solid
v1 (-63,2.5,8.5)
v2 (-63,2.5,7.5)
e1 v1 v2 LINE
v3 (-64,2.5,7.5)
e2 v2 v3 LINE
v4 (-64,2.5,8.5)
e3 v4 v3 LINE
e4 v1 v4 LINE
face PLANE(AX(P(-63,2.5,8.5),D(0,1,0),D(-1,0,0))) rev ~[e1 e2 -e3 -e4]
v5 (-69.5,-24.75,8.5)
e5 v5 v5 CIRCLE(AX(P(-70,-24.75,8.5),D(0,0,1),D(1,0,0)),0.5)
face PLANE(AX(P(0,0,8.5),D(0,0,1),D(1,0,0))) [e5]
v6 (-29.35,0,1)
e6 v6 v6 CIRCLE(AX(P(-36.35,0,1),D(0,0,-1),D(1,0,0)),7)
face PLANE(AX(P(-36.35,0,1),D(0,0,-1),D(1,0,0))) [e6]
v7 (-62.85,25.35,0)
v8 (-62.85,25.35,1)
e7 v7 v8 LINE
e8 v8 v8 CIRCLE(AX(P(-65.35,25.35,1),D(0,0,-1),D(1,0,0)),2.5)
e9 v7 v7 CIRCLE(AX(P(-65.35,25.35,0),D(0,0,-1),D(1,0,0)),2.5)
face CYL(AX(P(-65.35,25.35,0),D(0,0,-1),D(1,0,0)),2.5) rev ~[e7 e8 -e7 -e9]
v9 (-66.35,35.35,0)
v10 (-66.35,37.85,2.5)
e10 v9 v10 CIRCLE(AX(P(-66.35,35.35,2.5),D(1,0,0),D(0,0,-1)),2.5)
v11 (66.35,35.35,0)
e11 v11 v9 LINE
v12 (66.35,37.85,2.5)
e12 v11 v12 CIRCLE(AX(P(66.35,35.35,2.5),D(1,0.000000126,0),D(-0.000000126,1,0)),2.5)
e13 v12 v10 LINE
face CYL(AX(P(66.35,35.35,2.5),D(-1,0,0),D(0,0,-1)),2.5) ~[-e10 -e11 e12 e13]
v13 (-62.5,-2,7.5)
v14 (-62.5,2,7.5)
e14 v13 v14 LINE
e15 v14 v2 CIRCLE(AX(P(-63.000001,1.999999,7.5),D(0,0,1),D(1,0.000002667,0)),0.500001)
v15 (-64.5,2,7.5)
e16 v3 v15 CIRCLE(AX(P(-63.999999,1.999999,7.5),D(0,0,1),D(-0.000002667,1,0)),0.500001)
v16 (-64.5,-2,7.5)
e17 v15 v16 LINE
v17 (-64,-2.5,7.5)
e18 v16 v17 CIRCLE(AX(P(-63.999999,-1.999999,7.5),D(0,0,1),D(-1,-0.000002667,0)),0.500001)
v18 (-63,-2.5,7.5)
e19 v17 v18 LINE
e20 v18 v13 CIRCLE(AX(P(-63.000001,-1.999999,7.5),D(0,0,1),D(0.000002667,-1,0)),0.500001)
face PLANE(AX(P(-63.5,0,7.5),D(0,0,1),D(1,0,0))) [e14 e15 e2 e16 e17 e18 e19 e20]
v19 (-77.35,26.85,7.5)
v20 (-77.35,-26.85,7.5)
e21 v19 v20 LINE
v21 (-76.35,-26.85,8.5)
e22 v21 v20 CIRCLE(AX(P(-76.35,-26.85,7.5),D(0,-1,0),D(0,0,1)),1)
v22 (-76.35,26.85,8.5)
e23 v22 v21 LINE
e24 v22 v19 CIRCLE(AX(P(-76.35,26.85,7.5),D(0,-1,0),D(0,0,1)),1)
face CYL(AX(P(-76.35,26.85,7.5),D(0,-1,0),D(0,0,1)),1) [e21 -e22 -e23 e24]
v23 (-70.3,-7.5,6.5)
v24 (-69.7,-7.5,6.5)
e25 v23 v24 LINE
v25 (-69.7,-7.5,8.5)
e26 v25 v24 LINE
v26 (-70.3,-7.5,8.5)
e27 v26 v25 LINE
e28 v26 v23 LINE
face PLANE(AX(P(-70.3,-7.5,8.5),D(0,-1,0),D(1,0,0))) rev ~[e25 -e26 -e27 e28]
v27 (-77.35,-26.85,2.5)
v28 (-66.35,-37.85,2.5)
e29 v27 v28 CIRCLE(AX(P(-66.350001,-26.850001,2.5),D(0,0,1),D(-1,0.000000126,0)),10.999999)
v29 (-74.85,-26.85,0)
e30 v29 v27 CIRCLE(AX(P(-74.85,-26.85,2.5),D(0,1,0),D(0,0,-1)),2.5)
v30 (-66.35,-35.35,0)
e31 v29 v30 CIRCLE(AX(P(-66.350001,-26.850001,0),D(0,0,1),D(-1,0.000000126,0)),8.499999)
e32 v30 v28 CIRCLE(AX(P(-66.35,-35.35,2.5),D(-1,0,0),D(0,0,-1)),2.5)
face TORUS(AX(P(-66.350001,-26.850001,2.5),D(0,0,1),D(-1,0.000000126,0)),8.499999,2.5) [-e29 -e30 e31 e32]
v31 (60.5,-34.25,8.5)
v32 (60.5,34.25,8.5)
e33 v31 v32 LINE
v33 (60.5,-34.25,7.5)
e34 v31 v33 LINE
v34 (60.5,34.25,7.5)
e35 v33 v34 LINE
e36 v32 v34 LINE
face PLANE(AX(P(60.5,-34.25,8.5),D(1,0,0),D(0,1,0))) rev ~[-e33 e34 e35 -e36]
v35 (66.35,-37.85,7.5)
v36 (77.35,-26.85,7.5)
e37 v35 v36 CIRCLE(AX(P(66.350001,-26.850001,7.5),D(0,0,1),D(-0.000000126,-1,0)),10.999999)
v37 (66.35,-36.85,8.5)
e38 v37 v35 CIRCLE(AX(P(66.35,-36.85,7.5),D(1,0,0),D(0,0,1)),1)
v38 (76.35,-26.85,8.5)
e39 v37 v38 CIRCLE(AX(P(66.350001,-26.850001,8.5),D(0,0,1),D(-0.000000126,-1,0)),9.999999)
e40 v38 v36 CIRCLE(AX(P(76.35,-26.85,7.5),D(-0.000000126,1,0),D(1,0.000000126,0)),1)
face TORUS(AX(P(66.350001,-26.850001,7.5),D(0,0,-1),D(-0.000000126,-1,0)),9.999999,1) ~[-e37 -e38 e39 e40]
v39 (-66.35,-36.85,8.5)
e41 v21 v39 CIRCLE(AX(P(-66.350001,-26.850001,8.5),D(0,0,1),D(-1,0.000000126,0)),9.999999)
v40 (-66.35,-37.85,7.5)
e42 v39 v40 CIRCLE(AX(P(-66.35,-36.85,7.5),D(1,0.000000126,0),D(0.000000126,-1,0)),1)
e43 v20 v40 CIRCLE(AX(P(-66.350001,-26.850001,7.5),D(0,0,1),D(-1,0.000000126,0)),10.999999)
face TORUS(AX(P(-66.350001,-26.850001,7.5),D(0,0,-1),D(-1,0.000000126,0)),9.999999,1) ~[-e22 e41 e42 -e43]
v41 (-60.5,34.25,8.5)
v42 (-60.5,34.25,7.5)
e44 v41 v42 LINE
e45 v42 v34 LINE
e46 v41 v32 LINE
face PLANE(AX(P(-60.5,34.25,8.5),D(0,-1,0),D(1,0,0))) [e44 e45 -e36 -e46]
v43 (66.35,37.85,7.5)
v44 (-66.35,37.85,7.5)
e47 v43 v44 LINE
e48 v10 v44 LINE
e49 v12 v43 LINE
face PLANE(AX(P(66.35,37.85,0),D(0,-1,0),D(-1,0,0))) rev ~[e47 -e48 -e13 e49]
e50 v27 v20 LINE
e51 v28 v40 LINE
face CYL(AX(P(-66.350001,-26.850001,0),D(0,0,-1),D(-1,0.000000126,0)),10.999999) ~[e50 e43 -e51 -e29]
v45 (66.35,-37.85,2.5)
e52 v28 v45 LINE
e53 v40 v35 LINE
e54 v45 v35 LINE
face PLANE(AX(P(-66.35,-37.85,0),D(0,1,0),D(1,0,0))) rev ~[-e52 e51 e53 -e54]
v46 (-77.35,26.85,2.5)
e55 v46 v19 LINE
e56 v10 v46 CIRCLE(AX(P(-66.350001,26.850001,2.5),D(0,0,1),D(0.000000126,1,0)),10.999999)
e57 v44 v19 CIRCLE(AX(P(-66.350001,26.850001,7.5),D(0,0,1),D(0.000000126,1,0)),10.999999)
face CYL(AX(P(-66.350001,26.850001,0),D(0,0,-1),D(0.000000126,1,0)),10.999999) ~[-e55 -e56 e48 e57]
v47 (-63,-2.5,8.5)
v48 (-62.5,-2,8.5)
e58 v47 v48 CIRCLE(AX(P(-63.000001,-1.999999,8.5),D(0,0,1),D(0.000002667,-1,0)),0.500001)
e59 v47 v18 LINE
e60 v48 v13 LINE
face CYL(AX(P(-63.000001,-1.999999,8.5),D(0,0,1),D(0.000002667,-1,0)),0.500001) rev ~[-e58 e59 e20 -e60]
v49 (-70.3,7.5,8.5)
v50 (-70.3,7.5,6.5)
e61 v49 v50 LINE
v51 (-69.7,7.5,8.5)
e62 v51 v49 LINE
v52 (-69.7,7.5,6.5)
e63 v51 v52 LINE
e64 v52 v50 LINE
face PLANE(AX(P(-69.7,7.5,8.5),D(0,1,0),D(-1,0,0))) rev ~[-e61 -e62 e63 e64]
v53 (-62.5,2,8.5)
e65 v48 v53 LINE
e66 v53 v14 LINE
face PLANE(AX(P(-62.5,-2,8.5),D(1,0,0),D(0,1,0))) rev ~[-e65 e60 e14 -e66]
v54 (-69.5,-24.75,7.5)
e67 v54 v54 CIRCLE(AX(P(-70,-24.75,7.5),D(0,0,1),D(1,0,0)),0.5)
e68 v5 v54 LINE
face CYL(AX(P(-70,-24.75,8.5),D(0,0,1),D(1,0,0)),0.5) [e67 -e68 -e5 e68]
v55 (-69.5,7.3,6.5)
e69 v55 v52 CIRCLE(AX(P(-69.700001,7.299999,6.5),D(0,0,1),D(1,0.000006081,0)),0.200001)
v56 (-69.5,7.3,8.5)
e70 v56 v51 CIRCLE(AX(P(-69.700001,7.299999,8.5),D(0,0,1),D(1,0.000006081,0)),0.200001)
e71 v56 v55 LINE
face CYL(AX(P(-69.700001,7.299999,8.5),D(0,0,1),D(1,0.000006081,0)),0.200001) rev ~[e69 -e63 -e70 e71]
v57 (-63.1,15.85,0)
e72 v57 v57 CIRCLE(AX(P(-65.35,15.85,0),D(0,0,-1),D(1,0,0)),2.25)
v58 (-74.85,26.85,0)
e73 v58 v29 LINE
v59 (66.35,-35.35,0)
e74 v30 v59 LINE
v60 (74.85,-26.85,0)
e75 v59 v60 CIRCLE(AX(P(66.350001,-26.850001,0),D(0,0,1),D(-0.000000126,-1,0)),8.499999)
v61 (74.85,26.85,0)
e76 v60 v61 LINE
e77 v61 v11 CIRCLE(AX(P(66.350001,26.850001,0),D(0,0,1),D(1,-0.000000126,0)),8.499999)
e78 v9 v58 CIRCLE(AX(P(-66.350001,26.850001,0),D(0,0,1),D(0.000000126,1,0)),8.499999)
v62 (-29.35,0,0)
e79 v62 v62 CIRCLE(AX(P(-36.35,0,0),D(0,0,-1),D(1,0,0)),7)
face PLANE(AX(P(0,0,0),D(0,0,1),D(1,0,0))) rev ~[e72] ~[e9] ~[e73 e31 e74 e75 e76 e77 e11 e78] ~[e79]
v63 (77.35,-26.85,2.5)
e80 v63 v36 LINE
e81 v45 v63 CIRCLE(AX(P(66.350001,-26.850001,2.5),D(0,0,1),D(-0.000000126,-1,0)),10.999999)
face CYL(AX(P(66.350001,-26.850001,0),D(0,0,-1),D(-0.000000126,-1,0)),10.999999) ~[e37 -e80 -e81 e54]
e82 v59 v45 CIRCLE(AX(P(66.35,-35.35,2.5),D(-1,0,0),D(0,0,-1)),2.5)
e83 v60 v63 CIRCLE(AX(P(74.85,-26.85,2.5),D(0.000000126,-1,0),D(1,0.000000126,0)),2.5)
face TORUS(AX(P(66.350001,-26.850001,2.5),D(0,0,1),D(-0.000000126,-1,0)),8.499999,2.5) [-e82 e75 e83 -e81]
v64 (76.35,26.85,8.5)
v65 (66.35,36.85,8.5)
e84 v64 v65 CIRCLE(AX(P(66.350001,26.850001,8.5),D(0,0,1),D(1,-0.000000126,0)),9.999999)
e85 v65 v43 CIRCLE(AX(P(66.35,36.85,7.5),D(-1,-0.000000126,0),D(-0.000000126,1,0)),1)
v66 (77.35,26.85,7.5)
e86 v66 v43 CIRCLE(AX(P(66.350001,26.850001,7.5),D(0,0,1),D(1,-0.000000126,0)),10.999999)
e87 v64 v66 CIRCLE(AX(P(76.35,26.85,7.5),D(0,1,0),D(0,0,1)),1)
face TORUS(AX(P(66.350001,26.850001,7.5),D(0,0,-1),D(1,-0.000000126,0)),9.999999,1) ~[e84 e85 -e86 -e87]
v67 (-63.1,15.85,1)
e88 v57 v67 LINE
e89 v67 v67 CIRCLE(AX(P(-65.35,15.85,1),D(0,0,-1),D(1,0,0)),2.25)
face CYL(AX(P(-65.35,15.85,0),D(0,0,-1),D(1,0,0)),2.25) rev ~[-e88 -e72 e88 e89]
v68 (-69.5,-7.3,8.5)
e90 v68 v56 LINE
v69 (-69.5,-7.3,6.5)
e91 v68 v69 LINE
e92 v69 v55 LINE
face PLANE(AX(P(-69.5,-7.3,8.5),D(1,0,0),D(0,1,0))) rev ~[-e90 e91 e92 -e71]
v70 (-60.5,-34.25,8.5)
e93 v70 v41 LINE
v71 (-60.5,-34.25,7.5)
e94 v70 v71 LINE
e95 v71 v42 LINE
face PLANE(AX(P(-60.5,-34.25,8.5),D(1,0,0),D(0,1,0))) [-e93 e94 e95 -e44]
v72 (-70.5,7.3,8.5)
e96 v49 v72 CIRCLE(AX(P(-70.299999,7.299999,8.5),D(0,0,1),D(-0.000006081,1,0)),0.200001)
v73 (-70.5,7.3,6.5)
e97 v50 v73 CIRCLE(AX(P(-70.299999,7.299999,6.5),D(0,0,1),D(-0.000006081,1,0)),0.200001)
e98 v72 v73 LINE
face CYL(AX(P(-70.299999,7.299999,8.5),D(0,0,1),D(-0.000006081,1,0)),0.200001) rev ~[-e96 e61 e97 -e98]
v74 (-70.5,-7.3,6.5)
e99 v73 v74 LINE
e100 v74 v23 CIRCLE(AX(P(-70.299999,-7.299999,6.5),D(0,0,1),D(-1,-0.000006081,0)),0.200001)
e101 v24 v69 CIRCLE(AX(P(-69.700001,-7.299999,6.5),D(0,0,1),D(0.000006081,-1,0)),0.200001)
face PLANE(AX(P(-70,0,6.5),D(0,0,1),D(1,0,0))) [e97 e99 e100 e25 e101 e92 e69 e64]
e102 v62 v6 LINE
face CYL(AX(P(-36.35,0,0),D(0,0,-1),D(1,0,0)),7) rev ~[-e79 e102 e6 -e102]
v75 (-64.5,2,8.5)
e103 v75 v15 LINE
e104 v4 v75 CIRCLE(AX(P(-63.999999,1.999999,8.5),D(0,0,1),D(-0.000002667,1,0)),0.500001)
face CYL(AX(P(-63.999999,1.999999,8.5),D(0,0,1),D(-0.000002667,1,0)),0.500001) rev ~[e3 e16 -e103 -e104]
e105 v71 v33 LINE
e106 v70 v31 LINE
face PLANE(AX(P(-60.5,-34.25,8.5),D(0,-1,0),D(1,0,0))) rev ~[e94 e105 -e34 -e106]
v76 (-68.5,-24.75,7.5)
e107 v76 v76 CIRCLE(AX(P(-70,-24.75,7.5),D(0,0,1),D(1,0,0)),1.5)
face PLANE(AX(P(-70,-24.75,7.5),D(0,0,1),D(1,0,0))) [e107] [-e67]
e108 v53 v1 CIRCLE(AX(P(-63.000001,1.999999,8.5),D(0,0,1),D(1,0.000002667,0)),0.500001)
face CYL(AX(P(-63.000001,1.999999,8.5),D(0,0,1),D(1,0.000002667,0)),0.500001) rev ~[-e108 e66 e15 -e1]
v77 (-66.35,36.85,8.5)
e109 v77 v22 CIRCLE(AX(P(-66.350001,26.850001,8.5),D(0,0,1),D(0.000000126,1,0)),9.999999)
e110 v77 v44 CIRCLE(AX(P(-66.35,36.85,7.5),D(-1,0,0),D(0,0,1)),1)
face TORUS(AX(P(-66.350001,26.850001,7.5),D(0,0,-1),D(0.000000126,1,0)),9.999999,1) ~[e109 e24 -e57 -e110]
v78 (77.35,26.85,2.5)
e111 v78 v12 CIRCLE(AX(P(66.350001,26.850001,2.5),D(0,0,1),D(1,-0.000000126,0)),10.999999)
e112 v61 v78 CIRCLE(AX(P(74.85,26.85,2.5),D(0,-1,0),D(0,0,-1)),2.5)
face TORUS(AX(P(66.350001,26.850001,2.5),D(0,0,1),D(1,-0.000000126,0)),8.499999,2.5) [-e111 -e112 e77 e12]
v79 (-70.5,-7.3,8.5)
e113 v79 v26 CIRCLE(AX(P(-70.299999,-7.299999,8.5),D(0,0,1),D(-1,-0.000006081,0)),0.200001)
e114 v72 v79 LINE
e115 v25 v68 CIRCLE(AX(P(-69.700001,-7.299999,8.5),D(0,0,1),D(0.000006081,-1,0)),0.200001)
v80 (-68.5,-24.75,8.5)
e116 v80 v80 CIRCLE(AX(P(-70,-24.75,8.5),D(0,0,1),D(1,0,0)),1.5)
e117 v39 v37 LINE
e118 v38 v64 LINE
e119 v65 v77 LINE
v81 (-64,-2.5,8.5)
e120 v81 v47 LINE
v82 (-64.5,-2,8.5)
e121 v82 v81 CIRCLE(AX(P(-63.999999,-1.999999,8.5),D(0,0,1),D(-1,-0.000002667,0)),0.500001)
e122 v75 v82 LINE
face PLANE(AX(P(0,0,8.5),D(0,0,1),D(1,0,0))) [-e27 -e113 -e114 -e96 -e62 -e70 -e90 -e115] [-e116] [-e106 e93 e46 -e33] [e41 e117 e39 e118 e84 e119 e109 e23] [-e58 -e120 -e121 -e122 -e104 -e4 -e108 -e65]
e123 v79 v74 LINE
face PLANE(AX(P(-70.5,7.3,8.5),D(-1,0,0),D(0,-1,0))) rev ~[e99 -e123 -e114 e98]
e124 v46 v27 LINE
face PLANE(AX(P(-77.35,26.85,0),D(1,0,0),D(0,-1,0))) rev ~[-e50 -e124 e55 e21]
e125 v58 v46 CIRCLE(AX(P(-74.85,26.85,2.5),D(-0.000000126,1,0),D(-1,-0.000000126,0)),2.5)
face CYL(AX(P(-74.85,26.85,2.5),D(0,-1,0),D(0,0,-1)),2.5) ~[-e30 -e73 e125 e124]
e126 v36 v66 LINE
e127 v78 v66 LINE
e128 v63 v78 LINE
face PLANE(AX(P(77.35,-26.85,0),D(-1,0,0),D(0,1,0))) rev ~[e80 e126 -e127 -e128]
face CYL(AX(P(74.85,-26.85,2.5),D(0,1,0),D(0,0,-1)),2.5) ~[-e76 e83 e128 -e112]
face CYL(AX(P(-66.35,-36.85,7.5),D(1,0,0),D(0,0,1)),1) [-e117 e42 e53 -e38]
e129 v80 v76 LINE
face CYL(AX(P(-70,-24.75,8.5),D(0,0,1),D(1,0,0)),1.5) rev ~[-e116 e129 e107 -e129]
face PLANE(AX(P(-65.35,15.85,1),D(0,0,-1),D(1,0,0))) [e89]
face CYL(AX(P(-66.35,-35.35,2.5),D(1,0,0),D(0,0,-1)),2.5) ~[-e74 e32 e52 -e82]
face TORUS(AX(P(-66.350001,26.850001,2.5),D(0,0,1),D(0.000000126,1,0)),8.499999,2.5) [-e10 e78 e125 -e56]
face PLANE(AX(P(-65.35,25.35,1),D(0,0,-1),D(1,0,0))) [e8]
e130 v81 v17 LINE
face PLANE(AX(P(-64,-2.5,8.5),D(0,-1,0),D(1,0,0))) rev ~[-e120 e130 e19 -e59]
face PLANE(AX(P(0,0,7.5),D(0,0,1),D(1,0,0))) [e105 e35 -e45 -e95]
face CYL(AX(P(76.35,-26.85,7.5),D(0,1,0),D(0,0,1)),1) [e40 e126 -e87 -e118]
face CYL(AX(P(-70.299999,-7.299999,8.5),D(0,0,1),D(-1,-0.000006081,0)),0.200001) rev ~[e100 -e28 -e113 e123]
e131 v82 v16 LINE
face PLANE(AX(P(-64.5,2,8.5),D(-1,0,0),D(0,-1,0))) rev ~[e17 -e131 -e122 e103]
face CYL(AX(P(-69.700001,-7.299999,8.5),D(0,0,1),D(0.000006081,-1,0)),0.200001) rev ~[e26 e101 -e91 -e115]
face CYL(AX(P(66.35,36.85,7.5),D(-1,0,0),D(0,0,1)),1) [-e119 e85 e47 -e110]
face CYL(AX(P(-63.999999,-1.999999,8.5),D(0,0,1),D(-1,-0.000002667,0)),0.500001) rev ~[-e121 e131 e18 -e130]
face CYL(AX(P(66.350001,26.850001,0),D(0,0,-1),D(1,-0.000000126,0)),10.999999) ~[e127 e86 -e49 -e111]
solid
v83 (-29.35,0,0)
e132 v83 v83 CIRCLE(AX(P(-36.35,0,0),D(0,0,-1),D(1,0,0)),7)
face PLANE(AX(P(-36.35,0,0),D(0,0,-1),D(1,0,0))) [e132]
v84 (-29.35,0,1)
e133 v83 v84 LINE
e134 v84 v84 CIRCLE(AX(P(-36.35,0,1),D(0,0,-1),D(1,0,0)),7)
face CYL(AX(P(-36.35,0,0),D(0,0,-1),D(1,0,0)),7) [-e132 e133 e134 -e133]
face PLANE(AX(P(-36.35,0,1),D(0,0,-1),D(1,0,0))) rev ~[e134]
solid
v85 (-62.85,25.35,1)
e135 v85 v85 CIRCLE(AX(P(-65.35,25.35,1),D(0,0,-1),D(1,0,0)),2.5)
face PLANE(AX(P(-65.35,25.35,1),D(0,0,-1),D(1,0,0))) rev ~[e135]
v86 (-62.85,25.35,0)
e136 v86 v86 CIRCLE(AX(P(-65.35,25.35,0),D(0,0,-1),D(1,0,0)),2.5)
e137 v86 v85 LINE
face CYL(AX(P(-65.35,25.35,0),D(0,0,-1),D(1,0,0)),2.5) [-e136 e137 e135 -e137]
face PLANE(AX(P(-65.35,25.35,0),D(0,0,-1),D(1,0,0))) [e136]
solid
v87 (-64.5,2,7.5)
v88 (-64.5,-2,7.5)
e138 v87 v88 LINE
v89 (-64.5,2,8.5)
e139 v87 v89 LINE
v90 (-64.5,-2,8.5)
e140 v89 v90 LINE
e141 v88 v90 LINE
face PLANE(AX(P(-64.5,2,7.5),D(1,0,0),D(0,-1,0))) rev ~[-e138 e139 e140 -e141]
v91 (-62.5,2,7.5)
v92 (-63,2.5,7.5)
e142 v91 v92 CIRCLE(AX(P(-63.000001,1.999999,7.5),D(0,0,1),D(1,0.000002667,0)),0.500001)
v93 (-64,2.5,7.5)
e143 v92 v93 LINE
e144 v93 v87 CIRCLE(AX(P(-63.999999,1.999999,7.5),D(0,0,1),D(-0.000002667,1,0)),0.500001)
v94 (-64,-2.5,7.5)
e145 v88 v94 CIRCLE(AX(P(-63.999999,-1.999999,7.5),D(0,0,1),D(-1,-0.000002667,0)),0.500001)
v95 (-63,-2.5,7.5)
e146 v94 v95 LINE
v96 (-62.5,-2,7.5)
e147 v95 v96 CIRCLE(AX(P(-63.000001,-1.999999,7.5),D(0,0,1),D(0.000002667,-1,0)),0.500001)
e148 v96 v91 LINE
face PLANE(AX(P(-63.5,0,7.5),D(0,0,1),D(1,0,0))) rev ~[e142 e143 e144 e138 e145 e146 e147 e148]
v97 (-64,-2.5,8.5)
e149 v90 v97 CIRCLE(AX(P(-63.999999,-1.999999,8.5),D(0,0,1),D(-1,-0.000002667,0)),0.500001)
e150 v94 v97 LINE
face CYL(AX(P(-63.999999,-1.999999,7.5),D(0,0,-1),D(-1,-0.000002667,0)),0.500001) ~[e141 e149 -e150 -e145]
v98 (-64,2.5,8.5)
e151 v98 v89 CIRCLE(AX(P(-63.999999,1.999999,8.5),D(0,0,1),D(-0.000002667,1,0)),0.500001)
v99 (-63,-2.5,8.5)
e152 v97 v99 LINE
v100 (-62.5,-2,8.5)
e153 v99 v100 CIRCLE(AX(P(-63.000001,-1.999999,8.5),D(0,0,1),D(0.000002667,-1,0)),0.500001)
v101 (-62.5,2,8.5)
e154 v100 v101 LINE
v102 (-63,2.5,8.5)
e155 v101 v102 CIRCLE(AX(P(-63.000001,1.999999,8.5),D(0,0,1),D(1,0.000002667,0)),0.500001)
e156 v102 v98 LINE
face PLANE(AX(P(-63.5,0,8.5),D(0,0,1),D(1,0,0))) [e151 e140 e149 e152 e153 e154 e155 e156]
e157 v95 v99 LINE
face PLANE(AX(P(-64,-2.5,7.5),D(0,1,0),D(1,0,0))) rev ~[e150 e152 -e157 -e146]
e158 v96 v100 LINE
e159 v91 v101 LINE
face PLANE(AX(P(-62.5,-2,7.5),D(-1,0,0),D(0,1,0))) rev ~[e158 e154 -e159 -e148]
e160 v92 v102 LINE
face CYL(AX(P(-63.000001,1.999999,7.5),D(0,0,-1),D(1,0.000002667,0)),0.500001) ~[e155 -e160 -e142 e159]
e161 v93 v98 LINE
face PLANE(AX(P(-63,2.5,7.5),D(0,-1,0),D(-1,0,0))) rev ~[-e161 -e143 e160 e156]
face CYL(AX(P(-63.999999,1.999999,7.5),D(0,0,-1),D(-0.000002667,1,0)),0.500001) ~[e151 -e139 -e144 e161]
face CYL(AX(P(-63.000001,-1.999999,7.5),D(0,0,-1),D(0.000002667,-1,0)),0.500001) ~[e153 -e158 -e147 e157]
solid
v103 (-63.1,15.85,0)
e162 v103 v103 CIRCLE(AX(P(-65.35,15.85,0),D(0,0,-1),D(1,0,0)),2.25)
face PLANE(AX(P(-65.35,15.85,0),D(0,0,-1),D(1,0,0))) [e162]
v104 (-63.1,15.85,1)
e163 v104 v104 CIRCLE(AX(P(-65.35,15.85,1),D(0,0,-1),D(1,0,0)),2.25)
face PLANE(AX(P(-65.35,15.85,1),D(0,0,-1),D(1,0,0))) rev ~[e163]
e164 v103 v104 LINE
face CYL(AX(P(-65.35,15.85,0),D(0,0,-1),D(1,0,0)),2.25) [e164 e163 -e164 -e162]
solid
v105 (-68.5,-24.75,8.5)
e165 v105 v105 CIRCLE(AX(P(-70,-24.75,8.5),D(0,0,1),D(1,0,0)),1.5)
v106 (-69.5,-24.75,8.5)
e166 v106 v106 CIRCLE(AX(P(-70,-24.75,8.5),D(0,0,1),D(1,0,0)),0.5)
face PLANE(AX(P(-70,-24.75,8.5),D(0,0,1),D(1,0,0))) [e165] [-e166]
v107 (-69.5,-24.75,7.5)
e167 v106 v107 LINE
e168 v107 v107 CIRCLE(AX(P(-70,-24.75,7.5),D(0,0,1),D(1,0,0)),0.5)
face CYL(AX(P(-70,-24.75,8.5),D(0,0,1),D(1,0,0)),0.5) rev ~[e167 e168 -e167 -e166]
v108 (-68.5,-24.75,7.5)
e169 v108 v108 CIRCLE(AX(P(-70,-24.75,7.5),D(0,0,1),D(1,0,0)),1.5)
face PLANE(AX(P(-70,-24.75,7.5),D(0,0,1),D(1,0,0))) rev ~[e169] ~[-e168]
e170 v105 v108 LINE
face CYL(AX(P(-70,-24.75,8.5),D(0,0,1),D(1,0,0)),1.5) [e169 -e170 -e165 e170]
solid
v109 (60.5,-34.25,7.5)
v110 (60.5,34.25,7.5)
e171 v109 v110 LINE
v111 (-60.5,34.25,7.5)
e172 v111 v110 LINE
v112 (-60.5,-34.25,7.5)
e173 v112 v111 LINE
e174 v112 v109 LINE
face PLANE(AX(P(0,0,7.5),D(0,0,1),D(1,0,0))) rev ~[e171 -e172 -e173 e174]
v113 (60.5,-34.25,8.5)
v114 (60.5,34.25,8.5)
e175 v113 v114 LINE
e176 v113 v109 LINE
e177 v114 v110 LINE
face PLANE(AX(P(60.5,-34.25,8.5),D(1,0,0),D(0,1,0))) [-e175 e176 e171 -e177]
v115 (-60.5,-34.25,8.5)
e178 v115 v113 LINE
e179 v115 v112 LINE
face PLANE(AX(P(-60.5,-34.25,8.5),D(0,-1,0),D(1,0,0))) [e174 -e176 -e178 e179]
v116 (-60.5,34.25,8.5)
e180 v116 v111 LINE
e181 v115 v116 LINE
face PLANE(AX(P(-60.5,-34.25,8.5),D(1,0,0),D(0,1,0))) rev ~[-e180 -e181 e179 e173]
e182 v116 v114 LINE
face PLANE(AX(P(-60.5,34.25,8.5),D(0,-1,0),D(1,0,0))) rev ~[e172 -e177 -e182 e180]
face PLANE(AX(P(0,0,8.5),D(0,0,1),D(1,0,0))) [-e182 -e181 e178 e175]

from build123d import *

# Parameters (mm, degrees)
F1_DEPTH  = 8.5
F2_W      = 121
F2_H      = 68.5
F3_DEPTH  = 1
F4_DEPTH  = 1
F2_R      = 1.5
F2_R_2    = 0.5
F5_DEPTH  = 1
F6_DEPTH  = 1
F7_R      = 7
F8_DEPTH  = 1
F9_DEPTH  = 1
F10_R     = 1
F11_R     = 2.5
F12_DEPTH = 2
F13_DEPTH = 1
F14_DEPTH = 1
F7_R_2    = 2.5
F15_DEPTH = 1
F16_DEPTH = 1
F7_R_3    = 2.25
F17_DEPTH = 1
F18_DEPTH = 1


with BuildPart() as f1:
    # F0 (on Top) → F1 (new body)
    with BuildSketch(Plane.XY):
        with BuildLine():
            ThreePointArc((77.35, 26.85), (74.128175, 34.628175), (66.35, 37.85))
            Line((66.35, 37.85), (-66.35, 37.85))
            ThreePointArc((-66.35, 37.85), (-74.128175, 34.628175), (-77.35, 26.85))
            Line((-77.35, 26.85), (-77.35, -26.85))
            ThreePointArc((-77.35, -26.85), (-74.128175, -34.628175), (-66.35, -37.85))
            Line((-66.35, -37.85), (66.35, -37.85))
            ThreePointArc((66.35, -37.85), (74.128175, -34.628175), (77.35, -26.85))
            Line((77.35, -26.85), (77.35, 26.85))
        make_face()
    extrude(amount=F1_DEPTH)

    # F2 (on face) → F3 (cut)
    with BuildSketch(Plane.XY.offset(8.5)):
        Rectangle(F2_W, F2_H)
    extrude(amount=-F3_DEPTH, mode=Mode.SUBTRACT)

    # F2 (on face) → F5 (cut)
    with BuildSketch(Plane.XY.offset(8.5)):
        with Locations((-70, -24.75)):
            Circle(F2_R)
        with Locations((-70, -24.75)):
            Circle(F2_R_2, mode=Mode.SUBTRACT)
    extrude(amount=-F5_DEPTH, mode=Mode.SUBTRACT)

    # F7 (on face) → F8 (cut)
    with BuildSketch(Plane(origin=(0, 0, 0), x_dir=(1, 0, 0), z_dir=(0, 0, -1))):
        with Locations((-36.35, 0)):
            Circle(F7_R)
    extrude(amount=-F8_DEPTH, mode=Mode.SUBTRACT)

    # F10
    f10_edges = [f1.edges().sort_by_distance(p)[0] for p in [
        (-77.35, 0, 8.5),
    ]]
    fillet(f10_edges, radius=F10_R)

    # F11
    f11_edges = [f1.edges().sort_by_distance(p)[0] for p in [
        (0, -37.85, 0),
    ]]
    fillet(f11_edges, radius=F11_R)

    # F2 (on face) → F12 (cut)
    with BuildSketch(Plane.XY.offset(8.5)):
        with BuildLine():
            ThreePointArc((-69.5, 7.3), (-69.558579, 7.441421), (-69.7, 7.5))
            Line((-69.7, 7.5), (-70.3, 7.5))
            ThreePointArc((-70.3, 7.5), (-70.441421, 7.441421), (-70.5, 7.3))
            Line((-70.5, 7.3), (-70.5, -7.3))
            ThreePointArc((-70.5, -7.3), (-70.441421, -7.441421), (-70.3, -7.5))
            Line((-70.3, -7.5), (-69.7, -7.5))
            ThreePointArc((-69.7, -7.5), (-69.558579, -7.441421), (-69.5, -7.3))
            Line((-69.5, -7.3), (-69.5, 7.3))
        make_face()
    extrude(amount=-F12_DEPTH, mode=Mode.SUBTRACT)

    # F2 (on face) → F13 (cut)
    with BuildSketch(Plane.XY.offset(8.5)):
        with BuildLine():
            Line((-64, -2.5), (-63, -2.5))
            ThreePointArc((-63, -2.5), (-62.646447, -2.353553), (-62.5, -2))
            Line((-62.5, -2), (-62.5, 2))
            ThreePointArc((-62.5, 2), (-62.646447, 2.353553), (-63, 2.5))
            Line((-63, 2.5), (-64, 2.5))
            ThreePointArc((-64, 2.5), (-64.353553, 2.353553), (-64.5, 2))
            Line((-64.5, 2), (-64.5, -2))
            ThreePointArc((-64.5, -2), (-64.353553, -2.353553), (-64, -2.5))
        make_face()
    extrude(amount=-F13_DEPTH, mode=Mode.SUBTRACT)

    # F7 (on face) → F15 (cut)
    with BuildSketch(Plane(origin=(0, 0, 0), x_dir=(1, 0, 0), z_dir=(0, 0, -1))):
        with Locations((-65.35, -25.35)):
            Circle(F7_R_2)
    extrude(amount=-F15_DEPTH, mode=Mode.SUBTRACT)

    # F7 (on face) → F17 (cut)
    with BuildSketch(Plane(origin=(0, 0, 0), x_dir=(1, 0, 0), z_dir=(0, 0, -1))):
        with Locations((-65.35, -15.85)):
            Circle(F7_R_3)
    extrude(amount=-F17_DEPTH, mode=Mode.SUBTRACT)


with BuildPart() as f4:
    # F2 (on face) → F4 (new body)
    with BuildSketch(Plane.XY.offset(8.5)):
        Rectangle(F2_W, F2_H)
    extrude(amount=-F4_DEPTH)


with BuildPart() as f6:
    # F2 (on face) → F6 (new body)
    with BuildSketch(Plane.XY.offset(8.5)):
        with Locations((-70, -24.75)):
            Circle(F2_R)
        with Locations((-70, -24.75)):
            Circle(F2_R_2, mode=Mode.SUBTRACT)
    extrude(amount=-F6_DEPTH)


with BuildPart() as f9:
    # F7 (on face) → F9 (new body)
    with BuildSketch(Plane(origin=(0, 0, 0), x_dir=(1, 0, 0), z_dir=(0, 0, -1))):
        with Locations((-36.35, 0)):
            Circle(F7_R)
    extrude(amount=-F9_DEPTH)


with BuildPart() as f14:
    # F13_face (on face) → F14 (new body)
    with BuildSketch(Plane(origin=(-63.5, 0, 7.5), x_dir=(1, 0, 0), z_dir=(0, 0, 1))):
        with BuildLine():
            Line((-0.5, -2.5), (0.5, -2.5))
            ThreePointArc((0.5, -2.5), (0.853553, -2.353553), (1, -2))
            Line((1, -2), (1, 2))
            ThreePointArc((1, 2), (0.853553, 2.353553), (0.5, 2.5))
            Line((0.5, 2.5), (-0.5, 2.5))
            ThreePointArc((-0.5, 2.5), (-0.853553, 2.353553), (-1, 2))
            Line((-1, 2), (-1, -2))
            ThreePointArc((-1, -2), (-0.853553, -2.353553), (-0.5, -2.5))
        make_face()
    extrude(amount=F14_DEPTH)


with BuildPart() as f16:
    # F7 (on face) → F16 (new body)
    with BuildSketch(Plane(origin=(0, 0, 0), x_dir=(1, 0, 0), z_dir=(0, 0, -1))):
        with Locations((-65.35, -25.35)):
            Circle(F7_R_2)
    extrude(amount=-F16_DEPTH)


with BuildPart() as f18:
    # F7 (on face) → F18 (new body)
    with BuildSketch(Plane(origin=(0, 0, 0), x_dir=(1, 0, 0), z_dir=(0, 0, -1))):
        with Locations((-65.35, -15.85)):
            Circle(F7_R_3)
    extrude(amount=-F18_DEPTH)


solid = Compound([f1.part, f4.part, f6.part, f9.part, f14.part, f16.part, f18.part])
